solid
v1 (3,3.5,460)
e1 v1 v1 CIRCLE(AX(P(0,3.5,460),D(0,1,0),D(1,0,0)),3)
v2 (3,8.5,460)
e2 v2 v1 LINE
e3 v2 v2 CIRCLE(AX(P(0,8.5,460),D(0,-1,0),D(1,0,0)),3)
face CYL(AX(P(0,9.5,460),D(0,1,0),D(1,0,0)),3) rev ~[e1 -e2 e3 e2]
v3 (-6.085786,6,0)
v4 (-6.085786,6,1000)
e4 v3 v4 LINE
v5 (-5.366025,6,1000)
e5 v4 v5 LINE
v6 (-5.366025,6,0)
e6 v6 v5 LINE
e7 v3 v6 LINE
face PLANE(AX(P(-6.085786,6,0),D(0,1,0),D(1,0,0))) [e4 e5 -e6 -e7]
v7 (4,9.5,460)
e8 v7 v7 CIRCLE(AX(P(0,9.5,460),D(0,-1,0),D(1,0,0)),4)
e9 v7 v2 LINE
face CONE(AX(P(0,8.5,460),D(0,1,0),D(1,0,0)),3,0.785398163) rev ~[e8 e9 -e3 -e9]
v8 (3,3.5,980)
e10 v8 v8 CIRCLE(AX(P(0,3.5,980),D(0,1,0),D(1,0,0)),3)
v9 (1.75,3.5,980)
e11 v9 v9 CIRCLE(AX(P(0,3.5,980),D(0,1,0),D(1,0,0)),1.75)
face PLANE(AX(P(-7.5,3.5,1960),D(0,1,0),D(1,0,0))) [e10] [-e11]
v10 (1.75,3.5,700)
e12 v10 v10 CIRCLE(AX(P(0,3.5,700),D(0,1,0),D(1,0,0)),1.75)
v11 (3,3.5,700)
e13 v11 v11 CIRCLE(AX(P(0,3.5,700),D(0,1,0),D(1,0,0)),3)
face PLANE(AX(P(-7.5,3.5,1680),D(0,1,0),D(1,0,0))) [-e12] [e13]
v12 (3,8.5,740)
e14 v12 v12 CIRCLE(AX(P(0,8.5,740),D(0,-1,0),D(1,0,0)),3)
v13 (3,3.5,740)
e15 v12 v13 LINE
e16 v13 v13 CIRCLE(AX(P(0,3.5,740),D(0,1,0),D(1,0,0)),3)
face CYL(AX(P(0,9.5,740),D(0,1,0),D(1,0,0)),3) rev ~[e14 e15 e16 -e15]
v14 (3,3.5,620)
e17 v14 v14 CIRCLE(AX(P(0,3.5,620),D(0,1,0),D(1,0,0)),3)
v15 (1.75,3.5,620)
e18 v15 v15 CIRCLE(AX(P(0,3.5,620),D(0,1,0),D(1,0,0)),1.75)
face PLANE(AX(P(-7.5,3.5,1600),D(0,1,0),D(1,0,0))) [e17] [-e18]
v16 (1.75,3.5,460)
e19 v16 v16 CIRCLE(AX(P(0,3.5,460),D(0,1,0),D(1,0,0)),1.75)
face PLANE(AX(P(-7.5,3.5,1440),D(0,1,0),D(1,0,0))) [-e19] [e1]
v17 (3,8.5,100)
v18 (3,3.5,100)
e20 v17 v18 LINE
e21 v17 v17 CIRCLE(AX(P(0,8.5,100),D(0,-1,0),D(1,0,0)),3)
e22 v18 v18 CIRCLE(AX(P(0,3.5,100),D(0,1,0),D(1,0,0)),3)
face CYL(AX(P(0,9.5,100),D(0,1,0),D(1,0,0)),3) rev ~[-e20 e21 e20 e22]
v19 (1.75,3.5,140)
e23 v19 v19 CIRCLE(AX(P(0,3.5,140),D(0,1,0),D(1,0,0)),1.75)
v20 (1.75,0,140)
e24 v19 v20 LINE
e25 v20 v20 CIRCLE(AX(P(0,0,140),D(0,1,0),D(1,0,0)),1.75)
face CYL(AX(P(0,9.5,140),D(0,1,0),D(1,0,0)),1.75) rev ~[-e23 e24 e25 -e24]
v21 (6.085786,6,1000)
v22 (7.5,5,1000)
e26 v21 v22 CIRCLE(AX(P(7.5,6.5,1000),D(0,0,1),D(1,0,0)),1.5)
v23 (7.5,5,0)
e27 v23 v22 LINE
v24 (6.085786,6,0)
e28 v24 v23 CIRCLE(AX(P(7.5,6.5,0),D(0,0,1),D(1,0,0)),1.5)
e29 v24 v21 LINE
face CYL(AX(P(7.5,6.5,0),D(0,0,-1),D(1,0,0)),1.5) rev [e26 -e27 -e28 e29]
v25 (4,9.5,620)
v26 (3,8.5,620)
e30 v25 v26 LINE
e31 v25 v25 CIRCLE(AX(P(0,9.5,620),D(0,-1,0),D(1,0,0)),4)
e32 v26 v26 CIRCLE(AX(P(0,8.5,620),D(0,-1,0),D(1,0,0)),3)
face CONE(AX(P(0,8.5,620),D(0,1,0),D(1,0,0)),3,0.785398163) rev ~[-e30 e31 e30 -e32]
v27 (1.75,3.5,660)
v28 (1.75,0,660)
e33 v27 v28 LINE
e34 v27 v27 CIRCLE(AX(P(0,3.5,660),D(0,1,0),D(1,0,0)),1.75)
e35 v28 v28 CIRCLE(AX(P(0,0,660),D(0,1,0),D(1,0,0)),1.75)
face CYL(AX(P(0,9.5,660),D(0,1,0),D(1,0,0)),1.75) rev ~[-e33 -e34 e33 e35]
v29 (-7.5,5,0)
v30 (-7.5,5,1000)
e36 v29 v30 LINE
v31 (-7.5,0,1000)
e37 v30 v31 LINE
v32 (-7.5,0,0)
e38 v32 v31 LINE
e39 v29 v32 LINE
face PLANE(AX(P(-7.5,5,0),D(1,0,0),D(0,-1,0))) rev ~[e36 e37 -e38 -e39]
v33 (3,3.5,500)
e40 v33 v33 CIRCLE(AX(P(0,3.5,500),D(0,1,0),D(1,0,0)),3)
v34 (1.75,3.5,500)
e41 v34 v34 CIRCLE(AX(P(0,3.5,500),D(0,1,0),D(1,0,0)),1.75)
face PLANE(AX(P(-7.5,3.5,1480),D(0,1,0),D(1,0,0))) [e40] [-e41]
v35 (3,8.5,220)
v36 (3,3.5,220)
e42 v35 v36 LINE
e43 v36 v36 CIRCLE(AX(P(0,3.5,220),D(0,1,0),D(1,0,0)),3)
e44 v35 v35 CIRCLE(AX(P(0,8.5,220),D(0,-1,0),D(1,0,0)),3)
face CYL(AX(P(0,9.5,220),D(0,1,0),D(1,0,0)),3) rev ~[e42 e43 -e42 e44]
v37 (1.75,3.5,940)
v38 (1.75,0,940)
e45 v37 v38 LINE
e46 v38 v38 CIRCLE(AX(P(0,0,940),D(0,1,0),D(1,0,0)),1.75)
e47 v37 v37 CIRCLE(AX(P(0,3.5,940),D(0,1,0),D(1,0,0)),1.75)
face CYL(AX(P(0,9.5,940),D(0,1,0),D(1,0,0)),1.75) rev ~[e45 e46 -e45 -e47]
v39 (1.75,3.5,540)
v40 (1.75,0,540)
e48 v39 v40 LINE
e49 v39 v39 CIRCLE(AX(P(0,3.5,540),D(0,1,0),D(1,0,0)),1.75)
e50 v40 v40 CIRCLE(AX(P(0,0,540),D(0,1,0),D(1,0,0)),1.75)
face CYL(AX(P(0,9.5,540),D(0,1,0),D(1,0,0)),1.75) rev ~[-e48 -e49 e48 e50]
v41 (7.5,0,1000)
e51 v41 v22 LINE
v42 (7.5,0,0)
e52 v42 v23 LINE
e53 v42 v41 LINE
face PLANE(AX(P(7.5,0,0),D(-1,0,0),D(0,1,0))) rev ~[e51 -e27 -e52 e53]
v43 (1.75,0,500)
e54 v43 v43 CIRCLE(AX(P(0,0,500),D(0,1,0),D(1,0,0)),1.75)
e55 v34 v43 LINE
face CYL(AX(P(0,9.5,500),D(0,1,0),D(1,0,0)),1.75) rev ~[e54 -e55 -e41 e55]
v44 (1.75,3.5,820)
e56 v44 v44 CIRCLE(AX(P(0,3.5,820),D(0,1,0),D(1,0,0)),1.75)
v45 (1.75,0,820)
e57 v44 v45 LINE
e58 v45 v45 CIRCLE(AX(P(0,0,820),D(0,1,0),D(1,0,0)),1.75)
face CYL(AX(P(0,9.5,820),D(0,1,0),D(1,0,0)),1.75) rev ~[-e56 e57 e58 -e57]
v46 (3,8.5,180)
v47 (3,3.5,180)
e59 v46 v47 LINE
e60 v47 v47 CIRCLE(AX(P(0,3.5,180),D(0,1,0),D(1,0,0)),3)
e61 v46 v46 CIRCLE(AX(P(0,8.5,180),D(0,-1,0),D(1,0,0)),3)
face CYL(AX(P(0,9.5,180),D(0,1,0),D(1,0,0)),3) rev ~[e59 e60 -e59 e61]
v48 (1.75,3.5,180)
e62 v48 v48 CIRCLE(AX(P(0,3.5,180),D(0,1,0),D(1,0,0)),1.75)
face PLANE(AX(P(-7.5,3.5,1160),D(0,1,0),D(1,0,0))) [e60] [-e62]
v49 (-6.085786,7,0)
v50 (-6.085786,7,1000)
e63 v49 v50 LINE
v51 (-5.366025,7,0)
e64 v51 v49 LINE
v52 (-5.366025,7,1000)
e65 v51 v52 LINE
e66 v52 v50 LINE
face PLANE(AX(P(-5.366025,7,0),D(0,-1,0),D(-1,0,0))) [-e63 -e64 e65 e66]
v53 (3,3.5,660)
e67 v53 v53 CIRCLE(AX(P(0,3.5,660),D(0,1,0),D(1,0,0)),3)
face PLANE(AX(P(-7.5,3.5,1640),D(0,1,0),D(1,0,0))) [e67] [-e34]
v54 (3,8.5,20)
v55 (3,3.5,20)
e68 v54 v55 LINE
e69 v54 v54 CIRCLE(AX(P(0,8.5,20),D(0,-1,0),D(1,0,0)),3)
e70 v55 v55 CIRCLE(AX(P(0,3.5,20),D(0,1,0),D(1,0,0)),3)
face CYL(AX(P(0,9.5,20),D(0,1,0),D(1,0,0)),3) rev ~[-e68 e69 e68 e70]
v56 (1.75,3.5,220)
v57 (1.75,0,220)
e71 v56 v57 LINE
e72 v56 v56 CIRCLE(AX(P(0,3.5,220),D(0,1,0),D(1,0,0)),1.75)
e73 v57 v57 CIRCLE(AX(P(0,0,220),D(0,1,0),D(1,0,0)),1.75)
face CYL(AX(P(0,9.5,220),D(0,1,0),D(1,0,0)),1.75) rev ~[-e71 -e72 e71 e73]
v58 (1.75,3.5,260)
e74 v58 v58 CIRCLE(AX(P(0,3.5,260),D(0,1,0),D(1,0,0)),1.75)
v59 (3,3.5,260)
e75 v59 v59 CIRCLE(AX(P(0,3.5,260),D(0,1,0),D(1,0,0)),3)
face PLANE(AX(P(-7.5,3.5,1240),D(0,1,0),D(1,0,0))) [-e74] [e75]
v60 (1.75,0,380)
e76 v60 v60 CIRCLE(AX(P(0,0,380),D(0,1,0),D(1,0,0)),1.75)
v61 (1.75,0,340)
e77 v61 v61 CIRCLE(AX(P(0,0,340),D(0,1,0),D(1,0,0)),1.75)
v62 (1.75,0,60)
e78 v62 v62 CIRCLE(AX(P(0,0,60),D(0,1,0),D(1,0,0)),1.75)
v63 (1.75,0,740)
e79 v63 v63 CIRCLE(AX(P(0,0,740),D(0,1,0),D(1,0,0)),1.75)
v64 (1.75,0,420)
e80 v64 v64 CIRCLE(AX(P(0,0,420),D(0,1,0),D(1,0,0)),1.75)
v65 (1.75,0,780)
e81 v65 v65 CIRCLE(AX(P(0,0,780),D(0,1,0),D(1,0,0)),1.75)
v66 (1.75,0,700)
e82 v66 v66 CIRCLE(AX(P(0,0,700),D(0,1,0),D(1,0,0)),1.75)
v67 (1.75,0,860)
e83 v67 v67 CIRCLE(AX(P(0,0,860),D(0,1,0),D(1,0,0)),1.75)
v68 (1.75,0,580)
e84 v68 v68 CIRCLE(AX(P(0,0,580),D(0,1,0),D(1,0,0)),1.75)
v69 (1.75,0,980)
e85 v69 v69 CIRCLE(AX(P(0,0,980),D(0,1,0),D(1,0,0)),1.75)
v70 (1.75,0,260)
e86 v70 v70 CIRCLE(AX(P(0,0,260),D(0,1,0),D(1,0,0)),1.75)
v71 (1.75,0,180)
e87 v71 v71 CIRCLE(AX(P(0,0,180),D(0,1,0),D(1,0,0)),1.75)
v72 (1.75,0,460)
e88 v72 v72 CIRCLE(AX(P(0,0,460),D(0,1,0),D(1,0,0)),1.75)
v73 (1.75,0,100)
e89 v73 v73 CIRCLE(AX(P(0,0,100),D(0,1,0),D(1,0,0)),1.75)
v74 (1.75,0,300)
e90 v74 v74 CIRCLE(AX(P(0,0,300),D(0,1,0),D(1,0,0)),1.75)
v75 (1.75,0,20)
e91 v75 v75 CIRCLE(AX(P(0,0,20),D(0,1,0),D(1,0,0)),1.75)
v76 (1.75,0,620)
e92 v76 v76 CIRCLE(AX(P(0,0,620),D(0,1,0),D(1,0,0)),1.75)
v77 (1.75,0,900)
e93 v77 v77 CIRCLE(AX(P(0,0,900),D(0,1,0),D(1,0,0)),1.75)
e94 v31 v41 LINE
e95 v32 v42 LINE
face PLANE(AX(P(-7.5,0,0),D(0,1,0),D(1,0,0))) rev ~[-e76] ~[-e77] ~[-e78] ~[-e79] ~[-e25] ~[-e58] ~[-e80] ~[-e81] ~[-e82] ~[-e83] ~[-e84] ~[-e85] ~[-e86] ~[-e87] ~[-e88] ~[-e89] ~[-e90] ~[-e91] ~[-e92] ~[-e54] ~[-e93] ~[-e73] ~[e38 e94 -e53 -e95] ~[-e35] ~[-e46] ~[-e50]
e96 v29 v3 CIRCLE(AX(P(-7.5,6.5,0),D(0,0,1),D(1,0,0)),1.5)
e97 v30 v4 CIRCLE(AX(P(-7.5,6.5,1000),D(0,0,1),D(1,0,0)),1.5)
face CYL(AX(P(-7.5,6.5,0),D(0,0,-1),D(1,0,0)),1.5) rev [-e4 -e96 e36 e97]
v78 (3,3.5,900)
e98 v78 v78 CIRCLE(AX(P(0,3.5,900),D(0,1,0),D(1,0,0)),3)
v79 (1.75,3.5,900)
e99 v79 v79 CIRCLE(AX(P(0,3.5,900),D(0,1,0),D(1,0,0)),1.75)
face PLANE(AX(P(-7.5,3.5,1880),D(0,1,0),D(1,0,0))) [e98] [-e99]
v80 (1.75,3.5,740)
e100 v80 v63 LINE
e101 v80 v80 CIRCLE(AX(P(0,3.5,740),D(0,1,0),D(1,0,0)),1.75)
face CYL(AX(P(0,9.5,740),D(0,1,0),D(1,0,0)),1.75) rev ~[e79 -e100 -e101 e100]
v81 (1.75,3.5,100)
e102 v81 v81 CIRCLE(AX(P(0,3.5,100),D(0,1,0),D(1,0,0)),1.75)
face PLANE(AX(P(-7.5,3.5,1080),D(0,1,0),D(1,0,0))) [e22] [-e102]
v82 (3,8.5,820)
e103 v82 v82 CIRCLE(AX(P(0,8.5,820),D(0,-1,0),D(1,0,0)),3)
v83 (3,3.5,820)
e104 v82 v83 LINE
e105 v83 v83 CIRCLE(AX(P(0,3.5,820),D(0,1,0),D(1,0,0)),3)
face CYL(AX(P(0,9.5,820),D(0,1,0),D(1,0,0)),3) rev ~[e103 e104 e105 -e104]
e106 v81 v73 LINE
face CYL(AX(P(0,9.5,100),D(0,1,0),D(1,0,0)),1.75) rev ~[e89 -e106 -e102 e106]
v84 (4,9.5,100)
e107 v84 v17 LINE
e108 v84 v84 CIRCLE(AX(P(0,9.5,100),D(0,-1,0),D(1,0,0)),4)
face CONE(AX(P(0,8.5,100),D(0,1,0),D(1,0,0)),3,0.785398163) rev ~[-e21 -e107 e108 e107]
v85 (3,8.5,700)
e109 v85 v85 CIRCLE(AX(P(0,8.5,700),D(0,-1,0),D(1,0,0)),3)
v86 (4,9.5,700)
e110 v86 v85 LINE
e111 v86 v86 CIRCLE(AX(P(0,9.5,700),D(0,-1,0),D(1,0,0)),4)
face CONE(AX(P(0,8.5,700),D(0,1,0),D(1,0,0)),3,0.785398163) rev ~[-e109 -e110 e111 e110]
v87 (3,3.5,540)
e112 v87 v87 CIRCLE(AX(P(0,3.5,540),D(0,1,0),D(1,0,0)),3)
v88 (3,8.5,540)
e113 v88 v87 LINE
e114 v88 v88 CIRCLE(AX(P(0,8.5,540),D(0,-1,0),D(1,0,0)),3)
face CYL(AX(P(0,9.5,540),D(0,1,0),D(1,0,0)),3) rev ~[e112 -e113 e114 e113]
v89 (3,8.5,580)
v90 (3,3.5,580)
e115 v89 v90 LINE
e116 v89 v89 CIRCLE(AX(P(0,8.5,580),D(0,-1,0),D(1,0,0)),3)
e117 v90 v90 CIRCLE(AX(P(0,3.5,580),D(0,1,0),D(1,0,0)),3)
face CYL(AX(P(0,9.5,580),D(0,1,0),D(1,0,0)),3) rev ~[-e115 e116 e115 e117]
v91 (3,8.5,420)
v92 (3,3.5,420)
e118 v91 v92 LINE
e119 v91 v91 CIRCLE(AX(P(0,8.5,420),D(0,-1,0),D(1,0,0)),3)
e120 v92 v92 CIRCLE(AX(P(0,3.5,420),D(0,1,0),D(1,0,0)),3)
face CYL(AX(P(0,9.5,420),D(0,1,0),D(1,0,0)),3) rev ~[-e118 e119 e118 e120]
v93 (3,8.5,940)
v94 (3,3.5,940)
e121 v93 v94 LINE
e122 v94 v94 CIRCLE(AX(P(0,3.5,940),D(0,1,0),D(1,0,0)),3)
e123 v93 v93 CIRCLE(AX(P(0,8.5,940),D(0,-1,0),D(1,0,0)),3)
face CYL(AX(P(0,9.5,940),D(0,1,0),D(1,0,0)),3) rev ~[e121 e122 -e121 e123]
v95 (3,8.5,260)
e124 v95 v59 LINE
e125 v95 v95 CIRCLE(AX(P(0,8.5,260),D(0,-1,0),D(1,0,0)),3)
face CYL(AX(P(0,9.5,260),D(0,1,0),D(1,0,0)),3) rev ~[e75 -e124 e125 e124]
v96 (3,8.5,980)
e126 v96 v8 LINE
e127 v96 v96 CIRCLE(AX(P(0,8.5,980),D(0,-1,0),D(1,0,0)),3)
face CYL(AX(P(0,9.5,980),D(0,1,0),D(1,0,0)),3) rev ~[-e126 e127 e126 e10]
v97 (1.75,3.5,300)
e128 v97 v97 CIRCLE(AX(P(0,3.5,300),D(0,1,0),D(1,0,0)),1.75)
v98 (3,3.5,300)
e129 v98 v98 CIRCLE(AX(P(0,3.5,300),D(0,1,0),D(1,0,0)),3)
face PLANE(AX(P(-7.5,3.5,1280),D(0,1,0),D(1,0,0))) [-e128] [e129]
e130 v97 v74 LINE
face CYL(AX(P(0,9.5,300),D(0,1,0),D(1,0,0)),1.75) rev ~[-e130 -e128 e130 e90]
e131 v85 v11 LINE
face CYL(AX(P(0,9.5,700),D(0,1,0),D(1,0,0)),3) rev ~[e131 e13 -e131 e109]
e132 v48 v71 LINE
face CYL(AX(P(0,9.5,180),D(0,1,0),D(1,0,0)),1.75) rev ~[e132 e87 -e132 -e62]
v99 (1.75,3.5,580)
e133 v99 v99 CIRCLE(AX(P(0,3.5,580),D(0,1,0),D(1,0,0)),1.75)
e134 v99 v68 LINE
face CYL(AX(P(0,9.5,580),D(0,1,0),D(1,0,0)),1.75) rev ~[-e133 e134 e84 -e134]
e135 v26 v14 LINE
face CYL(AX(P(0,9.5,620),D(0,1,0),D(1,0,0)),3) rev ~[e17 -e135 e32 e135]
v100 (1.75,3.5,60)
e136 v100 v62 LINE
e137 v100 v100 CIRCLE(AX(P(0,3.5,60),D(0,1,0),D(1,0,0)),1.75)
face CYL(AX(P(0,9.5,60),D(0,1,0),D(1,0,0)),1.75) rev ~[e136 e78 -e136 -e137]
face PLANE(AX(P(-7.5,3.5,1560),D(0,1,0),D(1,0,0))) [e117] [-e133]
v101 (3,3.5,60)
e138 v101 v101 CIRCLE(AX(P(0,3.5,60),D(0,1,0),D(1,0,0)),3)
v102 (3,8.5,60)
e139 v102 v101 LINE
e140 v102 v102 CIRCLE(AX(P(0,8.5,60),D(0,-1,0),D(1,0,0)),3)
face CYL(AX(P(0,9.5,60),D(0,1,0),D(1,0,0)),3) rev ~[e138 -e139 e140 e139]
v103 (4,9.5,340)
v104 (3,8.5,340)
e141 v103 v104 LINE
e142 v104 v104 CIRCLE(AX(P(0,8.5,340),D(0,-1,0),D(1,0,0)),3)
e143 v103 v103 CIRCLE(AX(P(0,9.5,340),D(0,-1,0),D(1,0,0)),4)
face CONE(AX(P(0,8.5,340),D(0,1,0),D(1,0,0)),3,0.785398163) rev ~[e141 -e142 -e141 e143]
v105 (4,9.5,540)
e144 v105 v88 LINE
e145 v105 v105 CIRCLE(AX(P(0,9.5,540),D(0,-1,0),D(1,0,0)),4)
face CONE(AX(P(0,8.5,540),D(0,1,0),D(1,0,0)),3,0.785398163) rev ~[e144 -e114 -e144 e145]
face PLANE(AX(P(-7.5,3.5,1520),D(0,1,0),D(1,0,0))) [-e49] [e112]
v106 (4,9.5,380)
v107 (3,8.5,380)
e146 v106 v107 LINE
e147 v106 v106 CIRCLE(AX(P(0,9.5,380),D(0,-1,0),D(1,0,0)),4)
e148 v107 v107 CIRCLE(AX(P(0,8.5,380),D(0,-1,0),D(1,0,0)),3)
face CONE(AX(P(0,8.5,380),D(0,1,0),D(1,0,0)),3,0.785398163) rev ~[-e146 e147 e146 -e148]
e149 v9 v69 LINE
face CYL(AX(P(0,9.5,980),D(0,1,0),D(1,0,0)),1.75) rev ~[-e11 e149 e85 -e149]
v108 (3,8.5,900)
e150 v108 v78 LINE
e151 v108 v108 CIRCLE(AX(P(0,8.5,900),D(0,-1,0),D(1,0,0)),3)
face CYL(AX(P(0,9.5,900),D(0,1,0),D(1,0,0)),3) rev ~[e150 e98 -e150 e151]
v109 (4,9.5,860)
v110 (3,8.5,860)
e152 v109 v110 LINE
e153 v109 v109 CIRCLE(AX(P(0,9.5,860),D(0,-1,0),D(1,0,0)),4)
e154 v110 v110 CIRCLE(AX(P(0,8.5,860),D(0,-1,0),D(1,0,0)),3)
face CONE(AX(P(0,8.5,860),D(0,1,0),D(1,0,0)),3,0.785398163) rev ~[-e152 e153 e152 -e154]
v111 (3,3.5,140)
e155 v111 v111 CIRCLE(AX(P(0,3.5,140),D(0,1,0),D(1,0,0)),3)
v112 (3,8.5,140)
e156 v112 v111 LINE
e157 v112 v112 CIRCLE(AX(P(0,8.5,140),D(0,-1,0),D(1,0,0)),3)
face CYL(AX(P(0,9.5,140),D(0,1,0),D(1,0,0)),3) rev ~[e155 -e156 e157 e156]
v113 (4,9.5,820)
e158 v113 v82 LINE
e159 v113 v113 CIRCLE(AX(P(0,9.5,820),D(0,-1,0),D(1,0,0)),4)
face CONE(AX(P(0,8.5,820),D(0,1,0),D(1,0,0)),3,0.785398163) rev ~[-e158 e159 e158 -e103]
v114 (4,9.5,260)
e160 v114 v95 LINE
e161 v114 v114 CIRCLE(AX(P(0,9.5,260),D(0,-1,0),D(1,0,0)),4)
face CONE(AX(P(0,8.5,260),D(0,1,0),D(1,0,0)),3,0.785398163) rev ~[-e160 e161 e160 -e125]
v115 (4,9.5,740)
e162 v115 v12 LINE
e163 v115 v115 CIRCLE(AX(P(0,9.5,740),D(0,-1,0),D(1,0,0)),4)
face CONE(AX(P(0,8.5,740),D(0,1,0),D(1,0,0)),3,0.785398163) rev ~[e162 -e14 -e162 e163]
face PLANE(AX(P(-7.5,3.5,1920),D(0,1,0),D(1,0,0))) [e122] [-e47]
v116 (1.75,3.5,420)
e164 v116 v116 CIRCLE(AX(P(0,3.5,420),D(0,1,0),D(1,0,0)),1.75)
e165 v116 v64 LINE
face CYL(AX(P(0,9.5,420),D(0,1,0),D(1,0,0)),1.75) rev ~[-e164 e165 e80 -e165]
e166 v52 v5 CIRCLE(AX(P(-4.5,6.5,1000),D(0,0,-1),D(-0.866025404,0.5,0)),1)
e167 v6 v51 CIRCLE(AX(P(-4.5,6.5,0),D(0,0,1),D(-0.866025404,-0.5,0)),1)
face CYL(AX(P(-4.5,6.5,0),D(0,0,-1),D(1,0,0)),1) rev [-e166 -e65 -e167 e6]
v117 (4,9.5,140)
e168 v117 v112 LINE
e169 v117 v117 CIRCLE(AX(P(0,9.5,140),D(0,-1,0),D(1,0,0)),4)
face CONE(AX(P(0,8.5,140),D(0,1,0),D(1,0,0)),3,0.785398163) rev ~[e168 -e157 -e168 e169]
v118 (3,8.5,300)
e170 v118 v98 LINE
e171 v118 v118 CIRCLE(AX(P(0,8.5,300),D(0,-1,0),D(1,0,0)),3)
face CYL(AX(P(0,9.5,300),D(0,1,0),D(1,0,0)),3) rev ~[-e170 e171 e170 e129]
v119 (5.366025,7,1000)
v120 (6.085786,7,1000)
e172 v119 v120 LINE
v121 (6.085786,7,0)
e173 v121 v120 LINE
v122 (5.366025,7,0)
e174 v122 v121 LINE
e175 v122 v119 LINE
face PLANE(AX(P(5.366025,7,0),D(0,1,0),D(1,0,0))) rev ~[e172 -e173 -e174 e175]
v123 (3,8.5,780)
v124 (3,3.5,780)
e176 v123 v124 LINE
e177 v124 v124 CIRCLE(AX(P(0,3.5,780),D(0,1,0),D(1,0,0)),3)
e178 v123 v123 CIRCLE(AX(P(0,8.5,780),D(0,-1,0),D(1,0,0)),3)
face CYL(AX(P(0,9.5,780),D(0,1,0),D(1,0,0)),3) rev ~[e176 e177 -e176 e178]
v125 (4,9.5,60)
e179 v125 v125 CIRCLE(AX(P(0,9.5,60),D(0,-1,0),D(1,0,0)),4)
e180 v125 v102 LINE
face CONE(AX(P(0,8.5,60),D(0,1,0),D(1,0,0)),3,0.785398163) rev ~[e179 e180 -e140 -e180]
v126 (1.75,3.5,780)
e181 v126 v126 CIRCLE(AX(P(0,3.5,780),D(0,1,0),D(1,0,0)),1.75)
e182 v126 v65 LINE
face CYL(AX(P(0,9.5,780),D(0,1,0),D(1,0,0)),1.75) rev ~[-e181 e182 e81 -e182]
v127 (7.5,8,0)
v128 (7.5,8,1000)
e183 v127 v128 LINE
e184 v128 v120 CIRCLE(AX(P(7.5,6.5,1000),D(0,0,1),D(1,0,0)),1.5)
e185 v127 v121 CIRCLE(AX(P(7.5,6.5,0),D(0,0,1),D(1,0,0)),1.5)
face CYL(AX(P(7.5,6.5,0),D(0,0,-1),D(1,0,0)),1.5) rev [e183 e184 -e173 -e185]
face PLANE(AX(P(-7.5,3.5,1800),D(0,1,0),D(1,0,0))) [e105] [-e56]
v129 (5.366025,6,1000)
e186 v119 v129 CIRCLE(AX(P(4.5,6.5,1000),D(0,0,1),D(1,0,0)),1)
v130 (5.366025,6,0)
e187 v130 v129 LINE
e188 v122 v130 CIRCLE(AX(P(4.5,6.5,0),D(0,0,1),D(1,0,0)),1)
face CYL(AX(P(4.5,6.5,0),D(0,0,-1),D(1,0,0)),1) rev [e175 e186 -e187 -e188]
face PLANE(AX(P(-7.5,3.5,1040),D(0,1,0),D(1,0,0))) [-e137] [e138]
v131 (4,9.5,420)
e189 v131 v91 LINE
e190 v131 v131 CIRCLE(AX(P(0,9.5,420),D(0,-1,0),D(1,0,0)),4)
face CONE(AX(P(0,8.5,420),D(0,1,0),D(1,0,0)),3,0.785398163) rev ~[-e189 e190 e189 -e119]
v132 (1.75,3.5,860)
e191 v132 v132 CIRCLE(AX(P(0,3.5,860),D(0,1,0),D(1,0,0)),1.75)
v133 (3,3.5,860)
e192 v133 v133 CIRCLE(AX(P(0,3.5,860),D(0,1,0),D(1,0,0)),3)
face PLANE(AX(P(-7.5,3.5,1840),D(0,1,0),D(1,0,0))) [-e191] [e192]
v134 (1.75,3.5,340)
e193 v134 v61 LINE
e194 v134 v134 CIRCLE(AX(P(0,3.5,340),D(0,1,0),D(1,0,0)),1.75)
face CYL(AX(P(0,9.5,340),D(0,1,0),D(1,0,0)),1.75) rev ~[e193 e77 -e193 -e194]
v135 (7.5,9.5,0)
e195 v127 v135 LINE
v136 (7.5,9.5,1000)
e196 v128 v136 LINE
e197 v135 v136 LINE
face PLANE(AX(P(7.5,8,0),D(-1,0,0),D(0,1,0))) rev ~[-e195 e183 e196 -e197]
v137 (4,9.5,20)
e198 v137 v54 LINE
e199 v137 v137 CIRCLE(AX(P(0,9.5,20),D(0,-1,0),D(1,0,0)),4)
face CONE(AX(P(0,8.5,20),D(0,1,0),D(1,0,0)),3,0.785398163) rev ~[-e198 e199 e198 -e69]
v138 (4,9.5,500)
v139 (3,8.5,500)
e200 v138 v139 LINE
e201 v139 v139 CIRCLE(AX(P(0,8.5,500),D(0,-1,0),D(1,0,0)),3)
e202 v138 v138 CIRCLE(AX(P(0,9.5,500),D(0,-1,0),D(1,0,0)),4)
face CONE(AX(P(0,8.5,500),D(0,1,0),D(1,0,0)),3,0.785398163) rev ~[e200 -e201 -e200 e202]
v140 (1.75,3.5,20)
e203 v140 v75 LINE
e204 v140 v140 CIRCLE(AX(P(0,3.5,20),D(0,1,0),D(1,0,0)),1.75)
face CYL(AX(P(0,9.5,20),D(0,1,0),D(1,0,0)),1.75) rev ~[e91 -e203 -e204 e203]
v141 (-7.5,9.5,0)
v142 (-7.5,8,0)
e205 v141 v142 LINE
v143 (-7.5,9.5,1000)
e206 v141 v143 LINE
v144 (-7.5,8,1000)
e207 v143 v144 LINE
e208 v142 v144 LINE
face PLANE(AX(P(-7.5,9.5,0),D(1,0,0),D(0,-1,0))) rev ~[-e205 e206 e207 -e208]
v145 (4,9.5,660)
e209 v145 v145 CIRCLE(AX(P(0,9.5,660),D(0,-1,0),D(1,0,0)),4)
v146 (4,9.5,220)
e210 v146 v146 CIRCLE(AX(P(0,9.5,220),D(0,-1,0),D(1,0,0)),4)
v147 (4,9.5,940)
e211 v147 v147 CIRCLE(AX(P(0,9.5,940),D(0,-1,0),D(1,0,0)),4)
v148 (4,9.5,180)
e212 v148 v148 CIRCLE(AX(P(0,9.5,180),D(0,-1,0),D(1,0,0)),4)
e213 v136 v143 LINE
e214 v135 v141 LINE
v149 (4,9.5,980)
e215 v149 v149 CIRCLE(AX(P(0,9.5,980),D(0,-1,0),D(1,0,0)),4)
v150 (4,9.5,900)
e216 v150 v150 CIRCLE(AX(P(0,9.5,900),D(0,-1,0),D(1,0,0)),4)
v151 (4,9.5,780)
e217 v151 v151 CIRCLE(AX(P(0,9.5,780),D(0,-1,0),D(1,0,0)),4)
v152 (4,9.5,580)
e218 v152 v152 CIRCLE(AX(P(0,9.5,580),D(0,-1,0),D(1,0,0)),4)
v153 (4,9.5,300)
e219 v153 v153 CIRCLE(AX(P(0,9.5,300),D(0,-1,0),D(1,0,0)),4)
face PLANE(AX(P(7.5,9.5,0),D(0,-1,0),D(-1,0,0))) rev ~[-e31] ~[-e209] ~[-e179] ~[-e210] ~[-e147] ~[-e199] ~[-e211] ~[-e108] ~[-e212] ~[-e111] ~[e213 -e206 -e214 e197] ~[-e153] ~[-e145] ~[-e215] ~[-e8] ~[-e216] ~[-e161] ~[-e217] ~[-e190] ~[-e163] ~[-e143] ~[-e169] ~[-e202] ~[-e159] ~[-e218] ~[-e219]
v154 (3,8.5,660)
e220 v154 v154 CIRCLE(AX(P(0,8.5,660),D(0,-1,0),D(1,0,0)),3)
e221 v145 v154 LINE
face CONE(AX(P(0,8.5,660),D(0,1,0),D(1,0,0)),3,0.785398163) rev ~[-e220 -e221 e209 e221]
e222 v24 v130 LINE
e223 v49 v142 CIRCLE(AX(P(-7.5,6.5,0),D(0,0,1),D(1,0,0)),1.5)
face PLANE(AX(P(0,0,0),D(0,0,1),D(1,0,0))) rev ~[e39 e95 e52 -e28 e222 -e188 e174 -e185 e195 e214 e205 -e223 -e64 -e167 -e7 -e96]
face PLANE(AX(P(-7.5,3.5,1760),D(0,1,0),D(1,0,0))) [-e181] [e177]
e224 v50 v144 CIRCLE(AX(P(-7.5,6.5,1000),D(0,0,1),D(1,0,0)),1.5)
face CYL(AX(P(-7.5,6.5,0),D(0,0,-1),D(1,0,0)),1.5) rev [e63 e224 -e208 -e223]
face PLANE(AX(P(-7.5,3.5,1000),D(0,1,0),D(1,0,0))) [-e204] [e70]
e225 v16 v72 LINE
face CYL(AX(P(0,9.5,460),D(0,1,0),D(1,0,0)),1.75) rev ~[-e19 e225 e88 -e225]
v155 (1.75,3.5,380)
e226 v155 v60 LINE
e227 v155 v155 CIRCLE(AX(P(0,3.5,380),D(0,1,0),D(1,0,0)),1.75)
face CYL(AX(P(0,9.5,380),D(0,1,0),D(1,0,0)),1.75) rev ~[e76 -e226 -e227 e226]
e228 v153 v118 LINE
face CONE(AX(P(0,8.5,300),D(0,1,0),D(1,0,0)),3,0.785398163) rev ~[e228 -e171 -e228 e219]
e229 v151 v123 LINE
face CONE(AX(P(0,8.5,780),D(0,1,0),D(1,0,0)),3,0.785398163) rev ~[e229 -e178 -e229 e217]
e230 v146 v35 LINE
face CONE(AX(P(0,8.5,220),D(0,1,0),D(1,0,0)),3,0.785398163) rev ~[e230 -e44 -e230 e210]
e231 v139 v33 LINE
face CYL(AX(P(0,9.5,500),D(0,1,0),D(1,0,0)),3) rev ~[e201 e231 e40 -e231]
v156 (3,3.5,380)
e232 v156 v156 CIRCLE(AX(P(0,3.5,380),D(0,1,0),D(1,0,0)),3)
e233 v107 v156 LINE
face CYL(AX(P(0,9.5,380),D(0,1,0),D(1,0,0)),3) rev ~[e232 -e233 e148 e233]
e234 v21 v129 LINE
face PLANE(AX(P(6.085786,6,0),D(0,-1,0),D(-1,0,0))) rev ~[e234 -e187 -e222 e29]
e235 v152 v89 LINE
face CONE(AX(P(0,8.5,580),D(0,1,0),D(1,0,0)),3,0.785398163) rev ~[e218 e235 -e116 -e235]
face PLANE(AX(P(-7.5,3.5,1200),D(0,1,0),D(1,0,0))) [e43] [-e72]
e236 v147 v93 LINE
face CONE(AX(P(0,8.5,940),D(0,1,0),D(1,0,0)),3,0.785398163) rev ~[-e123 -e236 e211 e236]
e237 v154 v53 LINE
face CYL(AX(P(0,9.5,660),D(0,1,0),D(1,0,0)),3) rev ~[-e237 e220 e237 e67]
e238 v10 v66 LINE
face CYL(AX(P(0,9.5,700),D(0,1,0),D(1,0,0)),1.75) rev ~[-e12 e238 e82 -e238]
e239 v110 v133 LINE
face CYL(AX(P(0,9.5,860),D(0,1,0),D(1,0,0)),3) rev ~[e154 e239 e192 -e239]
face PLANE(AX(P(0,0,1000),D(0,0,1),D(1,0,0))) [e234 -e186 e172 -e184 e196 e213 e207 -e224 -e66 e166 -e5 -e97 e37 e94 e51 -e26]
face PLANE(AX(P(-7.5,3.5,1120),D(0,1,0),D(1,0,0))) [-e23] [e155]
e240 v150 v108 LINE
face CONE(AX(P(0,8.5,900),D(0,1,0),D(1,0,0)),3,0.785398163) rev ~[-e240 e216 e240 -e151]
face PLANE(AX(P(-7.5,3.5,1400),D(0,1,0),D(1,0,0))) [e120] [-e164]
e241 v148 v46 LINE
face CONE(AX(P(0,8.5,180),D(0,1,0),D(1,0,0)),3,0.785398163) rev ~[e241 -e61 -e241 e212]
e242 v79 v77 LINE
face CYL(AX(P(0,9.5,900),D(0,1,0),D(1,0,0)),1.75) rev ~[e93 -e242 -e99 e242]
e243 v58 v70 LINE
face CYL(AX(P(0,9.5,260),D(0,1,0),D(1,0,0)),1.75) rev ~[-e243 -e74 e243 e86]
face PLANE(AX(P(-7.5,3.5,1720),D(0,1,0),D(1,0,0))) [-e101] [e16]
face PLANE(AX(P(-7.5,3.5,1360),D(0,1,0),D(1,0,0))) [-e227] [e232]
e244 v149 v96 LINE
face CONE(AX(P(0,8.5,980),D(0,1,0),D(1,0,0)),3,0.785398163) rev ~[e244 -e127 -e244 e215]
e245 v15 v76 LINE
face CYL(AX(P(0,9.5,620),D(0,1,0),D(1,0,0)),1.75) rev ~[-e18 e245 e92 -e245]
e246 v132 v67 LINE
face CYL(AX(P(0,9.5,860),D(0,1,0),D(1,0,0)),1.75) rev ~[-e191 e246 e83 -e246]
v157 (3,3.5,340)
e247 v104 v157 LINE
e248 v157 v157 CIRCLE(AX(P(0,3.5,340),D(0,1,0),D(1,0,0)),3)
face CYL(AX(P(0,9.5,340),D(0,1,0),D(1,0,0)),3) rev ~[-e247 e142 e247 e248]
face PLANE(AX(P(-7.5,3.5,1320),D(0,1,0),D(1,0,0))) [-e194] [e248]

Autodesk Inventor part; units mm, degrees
ref_plane "YZ Plane" through (0, 0, 0) normal (1, 0, 0) x (0, 1, 0)
ref_plane "XZ Plane" through (0, 0, 0) normal (0, 1, 0) x (-1, 0, 0)
ref_plane "XY Plane" through (0, 0, 0) normal (0, 0, 1) x (1, 0, 0)
sketch "Skizze1" plane through (0, 0, 0) normal (0, 0, 1) x (1, 0, 0)
  line L0 (0, -1.9) -> (0, 11.4) construction
  line L1 (-7.5, 0) -> (7.5, 0)
  line L2 (7.5, 0) -> (7.5, 9.5)
  line L3 (7.5, 9.5) -> (-7.5, 9.5)
  line L4 (-7.5, 9.5) -> (-7.5, 0)
  circle A0 centre (-7.5, 6.5) radius 1.5
  line L5 (-12.6, 0) -> (12.6, 0) projected
  line L6 (-4.5, 6.5) -> (-7.5, 6.5) construction
  line L7 (-4.5, 7) -> (-7.5, 7)
  line L8 (-7.5, 6) -> (-4.5, 6)
  arc A1 (-4.5, 6) -> (-4.5, 7) centre (-4.5, 6.5) ccw
  arc A2 (-7.5, 7) -> (-7.5, 6) centre (-7.5, 6.5) ccw
  circle A3 centre (-4.5, 6.5) radius 1
  circle A4 centre (7.5, 6.5) radius 1.5
  line L9 (4.5, 7) -> (7.5, 7)
  line L10 (7.5, 6) -> (4.5, 6)
  arc A5 (4.5, 7) -> (4.5, 6) centre (4.5, 6.5) ccw
  circle A6 centre (4.5, 6.5) radius 1
  point P0 (0, 0)
  point P1 (0, 0)
  point P2 (-7.5, 8)
  point P3 (-7.5, 5)
  point P4 (-6, 6.5)
  point P5 (6, 6.5)
  point P6 (-6.0858, 7)
  point P7 (-5.366, 7)
  point P8 (-5.366, 6)
  point P9 (-6.0858, 6)
  point P10 (7.5, 5)
  point P11 (6.0858, 6)
  point P12 (5.366, 6)
  point P13 (5.366, 7)
  point P14 (6.0858, 7)
  point P15 (7.5, 8)
  dimension "d2" = 3
  dimension "d0" = 15
  dimension "d1" = 9.5
  dimension "d3" = 3
  dimension "d6" = 1
  dimension "d7" = 2
extrude "Extrusion1" add sketch "Skizze1" along normal blind 1000 contours L4 A0 L8 A3 L7 L3 L2 A4 L9 A6 L10 L1
sketch "Skizze2" plane through (-7.5, 9.5, 1000) normal (0, 1, 0) x (1, 0, 0)
  line L0 (-3, 1000) -> (18, 1000) projected
  line L1 (7.5, 1200) -> (7.5, -200) projected
  circle A0 centre (7.5, 980) radius 3
  circle A1 centre (7.5, 980) radius 1.75
  point P0 (7.5, 1000)
  dimension "d8" = 6
  dimension "d9" = 3.5
  dimension "d10" = 20
extrude "Extrusion2" cut sketch "Skizze2" against normal blind 6
extrude "Extrusion3" cut sketch "Skizze2" against normal blind 15 contours A1 L1 | L1 A1
chamfer "Fase1" distance 1 angle 45 1 edges at (-3, 9.5, 20)
pattern_linear "Rechteckige Anordnung1" count 25 spacing 40 along (0, 0, 1) of "Extrusion2", "Extrusion3", "Fase1"
equation "\"d4\" = Raillänge"
equation "\"Raillänge\" = 1000"
properties part number "MGN15 Linear Rail 1000mm"
